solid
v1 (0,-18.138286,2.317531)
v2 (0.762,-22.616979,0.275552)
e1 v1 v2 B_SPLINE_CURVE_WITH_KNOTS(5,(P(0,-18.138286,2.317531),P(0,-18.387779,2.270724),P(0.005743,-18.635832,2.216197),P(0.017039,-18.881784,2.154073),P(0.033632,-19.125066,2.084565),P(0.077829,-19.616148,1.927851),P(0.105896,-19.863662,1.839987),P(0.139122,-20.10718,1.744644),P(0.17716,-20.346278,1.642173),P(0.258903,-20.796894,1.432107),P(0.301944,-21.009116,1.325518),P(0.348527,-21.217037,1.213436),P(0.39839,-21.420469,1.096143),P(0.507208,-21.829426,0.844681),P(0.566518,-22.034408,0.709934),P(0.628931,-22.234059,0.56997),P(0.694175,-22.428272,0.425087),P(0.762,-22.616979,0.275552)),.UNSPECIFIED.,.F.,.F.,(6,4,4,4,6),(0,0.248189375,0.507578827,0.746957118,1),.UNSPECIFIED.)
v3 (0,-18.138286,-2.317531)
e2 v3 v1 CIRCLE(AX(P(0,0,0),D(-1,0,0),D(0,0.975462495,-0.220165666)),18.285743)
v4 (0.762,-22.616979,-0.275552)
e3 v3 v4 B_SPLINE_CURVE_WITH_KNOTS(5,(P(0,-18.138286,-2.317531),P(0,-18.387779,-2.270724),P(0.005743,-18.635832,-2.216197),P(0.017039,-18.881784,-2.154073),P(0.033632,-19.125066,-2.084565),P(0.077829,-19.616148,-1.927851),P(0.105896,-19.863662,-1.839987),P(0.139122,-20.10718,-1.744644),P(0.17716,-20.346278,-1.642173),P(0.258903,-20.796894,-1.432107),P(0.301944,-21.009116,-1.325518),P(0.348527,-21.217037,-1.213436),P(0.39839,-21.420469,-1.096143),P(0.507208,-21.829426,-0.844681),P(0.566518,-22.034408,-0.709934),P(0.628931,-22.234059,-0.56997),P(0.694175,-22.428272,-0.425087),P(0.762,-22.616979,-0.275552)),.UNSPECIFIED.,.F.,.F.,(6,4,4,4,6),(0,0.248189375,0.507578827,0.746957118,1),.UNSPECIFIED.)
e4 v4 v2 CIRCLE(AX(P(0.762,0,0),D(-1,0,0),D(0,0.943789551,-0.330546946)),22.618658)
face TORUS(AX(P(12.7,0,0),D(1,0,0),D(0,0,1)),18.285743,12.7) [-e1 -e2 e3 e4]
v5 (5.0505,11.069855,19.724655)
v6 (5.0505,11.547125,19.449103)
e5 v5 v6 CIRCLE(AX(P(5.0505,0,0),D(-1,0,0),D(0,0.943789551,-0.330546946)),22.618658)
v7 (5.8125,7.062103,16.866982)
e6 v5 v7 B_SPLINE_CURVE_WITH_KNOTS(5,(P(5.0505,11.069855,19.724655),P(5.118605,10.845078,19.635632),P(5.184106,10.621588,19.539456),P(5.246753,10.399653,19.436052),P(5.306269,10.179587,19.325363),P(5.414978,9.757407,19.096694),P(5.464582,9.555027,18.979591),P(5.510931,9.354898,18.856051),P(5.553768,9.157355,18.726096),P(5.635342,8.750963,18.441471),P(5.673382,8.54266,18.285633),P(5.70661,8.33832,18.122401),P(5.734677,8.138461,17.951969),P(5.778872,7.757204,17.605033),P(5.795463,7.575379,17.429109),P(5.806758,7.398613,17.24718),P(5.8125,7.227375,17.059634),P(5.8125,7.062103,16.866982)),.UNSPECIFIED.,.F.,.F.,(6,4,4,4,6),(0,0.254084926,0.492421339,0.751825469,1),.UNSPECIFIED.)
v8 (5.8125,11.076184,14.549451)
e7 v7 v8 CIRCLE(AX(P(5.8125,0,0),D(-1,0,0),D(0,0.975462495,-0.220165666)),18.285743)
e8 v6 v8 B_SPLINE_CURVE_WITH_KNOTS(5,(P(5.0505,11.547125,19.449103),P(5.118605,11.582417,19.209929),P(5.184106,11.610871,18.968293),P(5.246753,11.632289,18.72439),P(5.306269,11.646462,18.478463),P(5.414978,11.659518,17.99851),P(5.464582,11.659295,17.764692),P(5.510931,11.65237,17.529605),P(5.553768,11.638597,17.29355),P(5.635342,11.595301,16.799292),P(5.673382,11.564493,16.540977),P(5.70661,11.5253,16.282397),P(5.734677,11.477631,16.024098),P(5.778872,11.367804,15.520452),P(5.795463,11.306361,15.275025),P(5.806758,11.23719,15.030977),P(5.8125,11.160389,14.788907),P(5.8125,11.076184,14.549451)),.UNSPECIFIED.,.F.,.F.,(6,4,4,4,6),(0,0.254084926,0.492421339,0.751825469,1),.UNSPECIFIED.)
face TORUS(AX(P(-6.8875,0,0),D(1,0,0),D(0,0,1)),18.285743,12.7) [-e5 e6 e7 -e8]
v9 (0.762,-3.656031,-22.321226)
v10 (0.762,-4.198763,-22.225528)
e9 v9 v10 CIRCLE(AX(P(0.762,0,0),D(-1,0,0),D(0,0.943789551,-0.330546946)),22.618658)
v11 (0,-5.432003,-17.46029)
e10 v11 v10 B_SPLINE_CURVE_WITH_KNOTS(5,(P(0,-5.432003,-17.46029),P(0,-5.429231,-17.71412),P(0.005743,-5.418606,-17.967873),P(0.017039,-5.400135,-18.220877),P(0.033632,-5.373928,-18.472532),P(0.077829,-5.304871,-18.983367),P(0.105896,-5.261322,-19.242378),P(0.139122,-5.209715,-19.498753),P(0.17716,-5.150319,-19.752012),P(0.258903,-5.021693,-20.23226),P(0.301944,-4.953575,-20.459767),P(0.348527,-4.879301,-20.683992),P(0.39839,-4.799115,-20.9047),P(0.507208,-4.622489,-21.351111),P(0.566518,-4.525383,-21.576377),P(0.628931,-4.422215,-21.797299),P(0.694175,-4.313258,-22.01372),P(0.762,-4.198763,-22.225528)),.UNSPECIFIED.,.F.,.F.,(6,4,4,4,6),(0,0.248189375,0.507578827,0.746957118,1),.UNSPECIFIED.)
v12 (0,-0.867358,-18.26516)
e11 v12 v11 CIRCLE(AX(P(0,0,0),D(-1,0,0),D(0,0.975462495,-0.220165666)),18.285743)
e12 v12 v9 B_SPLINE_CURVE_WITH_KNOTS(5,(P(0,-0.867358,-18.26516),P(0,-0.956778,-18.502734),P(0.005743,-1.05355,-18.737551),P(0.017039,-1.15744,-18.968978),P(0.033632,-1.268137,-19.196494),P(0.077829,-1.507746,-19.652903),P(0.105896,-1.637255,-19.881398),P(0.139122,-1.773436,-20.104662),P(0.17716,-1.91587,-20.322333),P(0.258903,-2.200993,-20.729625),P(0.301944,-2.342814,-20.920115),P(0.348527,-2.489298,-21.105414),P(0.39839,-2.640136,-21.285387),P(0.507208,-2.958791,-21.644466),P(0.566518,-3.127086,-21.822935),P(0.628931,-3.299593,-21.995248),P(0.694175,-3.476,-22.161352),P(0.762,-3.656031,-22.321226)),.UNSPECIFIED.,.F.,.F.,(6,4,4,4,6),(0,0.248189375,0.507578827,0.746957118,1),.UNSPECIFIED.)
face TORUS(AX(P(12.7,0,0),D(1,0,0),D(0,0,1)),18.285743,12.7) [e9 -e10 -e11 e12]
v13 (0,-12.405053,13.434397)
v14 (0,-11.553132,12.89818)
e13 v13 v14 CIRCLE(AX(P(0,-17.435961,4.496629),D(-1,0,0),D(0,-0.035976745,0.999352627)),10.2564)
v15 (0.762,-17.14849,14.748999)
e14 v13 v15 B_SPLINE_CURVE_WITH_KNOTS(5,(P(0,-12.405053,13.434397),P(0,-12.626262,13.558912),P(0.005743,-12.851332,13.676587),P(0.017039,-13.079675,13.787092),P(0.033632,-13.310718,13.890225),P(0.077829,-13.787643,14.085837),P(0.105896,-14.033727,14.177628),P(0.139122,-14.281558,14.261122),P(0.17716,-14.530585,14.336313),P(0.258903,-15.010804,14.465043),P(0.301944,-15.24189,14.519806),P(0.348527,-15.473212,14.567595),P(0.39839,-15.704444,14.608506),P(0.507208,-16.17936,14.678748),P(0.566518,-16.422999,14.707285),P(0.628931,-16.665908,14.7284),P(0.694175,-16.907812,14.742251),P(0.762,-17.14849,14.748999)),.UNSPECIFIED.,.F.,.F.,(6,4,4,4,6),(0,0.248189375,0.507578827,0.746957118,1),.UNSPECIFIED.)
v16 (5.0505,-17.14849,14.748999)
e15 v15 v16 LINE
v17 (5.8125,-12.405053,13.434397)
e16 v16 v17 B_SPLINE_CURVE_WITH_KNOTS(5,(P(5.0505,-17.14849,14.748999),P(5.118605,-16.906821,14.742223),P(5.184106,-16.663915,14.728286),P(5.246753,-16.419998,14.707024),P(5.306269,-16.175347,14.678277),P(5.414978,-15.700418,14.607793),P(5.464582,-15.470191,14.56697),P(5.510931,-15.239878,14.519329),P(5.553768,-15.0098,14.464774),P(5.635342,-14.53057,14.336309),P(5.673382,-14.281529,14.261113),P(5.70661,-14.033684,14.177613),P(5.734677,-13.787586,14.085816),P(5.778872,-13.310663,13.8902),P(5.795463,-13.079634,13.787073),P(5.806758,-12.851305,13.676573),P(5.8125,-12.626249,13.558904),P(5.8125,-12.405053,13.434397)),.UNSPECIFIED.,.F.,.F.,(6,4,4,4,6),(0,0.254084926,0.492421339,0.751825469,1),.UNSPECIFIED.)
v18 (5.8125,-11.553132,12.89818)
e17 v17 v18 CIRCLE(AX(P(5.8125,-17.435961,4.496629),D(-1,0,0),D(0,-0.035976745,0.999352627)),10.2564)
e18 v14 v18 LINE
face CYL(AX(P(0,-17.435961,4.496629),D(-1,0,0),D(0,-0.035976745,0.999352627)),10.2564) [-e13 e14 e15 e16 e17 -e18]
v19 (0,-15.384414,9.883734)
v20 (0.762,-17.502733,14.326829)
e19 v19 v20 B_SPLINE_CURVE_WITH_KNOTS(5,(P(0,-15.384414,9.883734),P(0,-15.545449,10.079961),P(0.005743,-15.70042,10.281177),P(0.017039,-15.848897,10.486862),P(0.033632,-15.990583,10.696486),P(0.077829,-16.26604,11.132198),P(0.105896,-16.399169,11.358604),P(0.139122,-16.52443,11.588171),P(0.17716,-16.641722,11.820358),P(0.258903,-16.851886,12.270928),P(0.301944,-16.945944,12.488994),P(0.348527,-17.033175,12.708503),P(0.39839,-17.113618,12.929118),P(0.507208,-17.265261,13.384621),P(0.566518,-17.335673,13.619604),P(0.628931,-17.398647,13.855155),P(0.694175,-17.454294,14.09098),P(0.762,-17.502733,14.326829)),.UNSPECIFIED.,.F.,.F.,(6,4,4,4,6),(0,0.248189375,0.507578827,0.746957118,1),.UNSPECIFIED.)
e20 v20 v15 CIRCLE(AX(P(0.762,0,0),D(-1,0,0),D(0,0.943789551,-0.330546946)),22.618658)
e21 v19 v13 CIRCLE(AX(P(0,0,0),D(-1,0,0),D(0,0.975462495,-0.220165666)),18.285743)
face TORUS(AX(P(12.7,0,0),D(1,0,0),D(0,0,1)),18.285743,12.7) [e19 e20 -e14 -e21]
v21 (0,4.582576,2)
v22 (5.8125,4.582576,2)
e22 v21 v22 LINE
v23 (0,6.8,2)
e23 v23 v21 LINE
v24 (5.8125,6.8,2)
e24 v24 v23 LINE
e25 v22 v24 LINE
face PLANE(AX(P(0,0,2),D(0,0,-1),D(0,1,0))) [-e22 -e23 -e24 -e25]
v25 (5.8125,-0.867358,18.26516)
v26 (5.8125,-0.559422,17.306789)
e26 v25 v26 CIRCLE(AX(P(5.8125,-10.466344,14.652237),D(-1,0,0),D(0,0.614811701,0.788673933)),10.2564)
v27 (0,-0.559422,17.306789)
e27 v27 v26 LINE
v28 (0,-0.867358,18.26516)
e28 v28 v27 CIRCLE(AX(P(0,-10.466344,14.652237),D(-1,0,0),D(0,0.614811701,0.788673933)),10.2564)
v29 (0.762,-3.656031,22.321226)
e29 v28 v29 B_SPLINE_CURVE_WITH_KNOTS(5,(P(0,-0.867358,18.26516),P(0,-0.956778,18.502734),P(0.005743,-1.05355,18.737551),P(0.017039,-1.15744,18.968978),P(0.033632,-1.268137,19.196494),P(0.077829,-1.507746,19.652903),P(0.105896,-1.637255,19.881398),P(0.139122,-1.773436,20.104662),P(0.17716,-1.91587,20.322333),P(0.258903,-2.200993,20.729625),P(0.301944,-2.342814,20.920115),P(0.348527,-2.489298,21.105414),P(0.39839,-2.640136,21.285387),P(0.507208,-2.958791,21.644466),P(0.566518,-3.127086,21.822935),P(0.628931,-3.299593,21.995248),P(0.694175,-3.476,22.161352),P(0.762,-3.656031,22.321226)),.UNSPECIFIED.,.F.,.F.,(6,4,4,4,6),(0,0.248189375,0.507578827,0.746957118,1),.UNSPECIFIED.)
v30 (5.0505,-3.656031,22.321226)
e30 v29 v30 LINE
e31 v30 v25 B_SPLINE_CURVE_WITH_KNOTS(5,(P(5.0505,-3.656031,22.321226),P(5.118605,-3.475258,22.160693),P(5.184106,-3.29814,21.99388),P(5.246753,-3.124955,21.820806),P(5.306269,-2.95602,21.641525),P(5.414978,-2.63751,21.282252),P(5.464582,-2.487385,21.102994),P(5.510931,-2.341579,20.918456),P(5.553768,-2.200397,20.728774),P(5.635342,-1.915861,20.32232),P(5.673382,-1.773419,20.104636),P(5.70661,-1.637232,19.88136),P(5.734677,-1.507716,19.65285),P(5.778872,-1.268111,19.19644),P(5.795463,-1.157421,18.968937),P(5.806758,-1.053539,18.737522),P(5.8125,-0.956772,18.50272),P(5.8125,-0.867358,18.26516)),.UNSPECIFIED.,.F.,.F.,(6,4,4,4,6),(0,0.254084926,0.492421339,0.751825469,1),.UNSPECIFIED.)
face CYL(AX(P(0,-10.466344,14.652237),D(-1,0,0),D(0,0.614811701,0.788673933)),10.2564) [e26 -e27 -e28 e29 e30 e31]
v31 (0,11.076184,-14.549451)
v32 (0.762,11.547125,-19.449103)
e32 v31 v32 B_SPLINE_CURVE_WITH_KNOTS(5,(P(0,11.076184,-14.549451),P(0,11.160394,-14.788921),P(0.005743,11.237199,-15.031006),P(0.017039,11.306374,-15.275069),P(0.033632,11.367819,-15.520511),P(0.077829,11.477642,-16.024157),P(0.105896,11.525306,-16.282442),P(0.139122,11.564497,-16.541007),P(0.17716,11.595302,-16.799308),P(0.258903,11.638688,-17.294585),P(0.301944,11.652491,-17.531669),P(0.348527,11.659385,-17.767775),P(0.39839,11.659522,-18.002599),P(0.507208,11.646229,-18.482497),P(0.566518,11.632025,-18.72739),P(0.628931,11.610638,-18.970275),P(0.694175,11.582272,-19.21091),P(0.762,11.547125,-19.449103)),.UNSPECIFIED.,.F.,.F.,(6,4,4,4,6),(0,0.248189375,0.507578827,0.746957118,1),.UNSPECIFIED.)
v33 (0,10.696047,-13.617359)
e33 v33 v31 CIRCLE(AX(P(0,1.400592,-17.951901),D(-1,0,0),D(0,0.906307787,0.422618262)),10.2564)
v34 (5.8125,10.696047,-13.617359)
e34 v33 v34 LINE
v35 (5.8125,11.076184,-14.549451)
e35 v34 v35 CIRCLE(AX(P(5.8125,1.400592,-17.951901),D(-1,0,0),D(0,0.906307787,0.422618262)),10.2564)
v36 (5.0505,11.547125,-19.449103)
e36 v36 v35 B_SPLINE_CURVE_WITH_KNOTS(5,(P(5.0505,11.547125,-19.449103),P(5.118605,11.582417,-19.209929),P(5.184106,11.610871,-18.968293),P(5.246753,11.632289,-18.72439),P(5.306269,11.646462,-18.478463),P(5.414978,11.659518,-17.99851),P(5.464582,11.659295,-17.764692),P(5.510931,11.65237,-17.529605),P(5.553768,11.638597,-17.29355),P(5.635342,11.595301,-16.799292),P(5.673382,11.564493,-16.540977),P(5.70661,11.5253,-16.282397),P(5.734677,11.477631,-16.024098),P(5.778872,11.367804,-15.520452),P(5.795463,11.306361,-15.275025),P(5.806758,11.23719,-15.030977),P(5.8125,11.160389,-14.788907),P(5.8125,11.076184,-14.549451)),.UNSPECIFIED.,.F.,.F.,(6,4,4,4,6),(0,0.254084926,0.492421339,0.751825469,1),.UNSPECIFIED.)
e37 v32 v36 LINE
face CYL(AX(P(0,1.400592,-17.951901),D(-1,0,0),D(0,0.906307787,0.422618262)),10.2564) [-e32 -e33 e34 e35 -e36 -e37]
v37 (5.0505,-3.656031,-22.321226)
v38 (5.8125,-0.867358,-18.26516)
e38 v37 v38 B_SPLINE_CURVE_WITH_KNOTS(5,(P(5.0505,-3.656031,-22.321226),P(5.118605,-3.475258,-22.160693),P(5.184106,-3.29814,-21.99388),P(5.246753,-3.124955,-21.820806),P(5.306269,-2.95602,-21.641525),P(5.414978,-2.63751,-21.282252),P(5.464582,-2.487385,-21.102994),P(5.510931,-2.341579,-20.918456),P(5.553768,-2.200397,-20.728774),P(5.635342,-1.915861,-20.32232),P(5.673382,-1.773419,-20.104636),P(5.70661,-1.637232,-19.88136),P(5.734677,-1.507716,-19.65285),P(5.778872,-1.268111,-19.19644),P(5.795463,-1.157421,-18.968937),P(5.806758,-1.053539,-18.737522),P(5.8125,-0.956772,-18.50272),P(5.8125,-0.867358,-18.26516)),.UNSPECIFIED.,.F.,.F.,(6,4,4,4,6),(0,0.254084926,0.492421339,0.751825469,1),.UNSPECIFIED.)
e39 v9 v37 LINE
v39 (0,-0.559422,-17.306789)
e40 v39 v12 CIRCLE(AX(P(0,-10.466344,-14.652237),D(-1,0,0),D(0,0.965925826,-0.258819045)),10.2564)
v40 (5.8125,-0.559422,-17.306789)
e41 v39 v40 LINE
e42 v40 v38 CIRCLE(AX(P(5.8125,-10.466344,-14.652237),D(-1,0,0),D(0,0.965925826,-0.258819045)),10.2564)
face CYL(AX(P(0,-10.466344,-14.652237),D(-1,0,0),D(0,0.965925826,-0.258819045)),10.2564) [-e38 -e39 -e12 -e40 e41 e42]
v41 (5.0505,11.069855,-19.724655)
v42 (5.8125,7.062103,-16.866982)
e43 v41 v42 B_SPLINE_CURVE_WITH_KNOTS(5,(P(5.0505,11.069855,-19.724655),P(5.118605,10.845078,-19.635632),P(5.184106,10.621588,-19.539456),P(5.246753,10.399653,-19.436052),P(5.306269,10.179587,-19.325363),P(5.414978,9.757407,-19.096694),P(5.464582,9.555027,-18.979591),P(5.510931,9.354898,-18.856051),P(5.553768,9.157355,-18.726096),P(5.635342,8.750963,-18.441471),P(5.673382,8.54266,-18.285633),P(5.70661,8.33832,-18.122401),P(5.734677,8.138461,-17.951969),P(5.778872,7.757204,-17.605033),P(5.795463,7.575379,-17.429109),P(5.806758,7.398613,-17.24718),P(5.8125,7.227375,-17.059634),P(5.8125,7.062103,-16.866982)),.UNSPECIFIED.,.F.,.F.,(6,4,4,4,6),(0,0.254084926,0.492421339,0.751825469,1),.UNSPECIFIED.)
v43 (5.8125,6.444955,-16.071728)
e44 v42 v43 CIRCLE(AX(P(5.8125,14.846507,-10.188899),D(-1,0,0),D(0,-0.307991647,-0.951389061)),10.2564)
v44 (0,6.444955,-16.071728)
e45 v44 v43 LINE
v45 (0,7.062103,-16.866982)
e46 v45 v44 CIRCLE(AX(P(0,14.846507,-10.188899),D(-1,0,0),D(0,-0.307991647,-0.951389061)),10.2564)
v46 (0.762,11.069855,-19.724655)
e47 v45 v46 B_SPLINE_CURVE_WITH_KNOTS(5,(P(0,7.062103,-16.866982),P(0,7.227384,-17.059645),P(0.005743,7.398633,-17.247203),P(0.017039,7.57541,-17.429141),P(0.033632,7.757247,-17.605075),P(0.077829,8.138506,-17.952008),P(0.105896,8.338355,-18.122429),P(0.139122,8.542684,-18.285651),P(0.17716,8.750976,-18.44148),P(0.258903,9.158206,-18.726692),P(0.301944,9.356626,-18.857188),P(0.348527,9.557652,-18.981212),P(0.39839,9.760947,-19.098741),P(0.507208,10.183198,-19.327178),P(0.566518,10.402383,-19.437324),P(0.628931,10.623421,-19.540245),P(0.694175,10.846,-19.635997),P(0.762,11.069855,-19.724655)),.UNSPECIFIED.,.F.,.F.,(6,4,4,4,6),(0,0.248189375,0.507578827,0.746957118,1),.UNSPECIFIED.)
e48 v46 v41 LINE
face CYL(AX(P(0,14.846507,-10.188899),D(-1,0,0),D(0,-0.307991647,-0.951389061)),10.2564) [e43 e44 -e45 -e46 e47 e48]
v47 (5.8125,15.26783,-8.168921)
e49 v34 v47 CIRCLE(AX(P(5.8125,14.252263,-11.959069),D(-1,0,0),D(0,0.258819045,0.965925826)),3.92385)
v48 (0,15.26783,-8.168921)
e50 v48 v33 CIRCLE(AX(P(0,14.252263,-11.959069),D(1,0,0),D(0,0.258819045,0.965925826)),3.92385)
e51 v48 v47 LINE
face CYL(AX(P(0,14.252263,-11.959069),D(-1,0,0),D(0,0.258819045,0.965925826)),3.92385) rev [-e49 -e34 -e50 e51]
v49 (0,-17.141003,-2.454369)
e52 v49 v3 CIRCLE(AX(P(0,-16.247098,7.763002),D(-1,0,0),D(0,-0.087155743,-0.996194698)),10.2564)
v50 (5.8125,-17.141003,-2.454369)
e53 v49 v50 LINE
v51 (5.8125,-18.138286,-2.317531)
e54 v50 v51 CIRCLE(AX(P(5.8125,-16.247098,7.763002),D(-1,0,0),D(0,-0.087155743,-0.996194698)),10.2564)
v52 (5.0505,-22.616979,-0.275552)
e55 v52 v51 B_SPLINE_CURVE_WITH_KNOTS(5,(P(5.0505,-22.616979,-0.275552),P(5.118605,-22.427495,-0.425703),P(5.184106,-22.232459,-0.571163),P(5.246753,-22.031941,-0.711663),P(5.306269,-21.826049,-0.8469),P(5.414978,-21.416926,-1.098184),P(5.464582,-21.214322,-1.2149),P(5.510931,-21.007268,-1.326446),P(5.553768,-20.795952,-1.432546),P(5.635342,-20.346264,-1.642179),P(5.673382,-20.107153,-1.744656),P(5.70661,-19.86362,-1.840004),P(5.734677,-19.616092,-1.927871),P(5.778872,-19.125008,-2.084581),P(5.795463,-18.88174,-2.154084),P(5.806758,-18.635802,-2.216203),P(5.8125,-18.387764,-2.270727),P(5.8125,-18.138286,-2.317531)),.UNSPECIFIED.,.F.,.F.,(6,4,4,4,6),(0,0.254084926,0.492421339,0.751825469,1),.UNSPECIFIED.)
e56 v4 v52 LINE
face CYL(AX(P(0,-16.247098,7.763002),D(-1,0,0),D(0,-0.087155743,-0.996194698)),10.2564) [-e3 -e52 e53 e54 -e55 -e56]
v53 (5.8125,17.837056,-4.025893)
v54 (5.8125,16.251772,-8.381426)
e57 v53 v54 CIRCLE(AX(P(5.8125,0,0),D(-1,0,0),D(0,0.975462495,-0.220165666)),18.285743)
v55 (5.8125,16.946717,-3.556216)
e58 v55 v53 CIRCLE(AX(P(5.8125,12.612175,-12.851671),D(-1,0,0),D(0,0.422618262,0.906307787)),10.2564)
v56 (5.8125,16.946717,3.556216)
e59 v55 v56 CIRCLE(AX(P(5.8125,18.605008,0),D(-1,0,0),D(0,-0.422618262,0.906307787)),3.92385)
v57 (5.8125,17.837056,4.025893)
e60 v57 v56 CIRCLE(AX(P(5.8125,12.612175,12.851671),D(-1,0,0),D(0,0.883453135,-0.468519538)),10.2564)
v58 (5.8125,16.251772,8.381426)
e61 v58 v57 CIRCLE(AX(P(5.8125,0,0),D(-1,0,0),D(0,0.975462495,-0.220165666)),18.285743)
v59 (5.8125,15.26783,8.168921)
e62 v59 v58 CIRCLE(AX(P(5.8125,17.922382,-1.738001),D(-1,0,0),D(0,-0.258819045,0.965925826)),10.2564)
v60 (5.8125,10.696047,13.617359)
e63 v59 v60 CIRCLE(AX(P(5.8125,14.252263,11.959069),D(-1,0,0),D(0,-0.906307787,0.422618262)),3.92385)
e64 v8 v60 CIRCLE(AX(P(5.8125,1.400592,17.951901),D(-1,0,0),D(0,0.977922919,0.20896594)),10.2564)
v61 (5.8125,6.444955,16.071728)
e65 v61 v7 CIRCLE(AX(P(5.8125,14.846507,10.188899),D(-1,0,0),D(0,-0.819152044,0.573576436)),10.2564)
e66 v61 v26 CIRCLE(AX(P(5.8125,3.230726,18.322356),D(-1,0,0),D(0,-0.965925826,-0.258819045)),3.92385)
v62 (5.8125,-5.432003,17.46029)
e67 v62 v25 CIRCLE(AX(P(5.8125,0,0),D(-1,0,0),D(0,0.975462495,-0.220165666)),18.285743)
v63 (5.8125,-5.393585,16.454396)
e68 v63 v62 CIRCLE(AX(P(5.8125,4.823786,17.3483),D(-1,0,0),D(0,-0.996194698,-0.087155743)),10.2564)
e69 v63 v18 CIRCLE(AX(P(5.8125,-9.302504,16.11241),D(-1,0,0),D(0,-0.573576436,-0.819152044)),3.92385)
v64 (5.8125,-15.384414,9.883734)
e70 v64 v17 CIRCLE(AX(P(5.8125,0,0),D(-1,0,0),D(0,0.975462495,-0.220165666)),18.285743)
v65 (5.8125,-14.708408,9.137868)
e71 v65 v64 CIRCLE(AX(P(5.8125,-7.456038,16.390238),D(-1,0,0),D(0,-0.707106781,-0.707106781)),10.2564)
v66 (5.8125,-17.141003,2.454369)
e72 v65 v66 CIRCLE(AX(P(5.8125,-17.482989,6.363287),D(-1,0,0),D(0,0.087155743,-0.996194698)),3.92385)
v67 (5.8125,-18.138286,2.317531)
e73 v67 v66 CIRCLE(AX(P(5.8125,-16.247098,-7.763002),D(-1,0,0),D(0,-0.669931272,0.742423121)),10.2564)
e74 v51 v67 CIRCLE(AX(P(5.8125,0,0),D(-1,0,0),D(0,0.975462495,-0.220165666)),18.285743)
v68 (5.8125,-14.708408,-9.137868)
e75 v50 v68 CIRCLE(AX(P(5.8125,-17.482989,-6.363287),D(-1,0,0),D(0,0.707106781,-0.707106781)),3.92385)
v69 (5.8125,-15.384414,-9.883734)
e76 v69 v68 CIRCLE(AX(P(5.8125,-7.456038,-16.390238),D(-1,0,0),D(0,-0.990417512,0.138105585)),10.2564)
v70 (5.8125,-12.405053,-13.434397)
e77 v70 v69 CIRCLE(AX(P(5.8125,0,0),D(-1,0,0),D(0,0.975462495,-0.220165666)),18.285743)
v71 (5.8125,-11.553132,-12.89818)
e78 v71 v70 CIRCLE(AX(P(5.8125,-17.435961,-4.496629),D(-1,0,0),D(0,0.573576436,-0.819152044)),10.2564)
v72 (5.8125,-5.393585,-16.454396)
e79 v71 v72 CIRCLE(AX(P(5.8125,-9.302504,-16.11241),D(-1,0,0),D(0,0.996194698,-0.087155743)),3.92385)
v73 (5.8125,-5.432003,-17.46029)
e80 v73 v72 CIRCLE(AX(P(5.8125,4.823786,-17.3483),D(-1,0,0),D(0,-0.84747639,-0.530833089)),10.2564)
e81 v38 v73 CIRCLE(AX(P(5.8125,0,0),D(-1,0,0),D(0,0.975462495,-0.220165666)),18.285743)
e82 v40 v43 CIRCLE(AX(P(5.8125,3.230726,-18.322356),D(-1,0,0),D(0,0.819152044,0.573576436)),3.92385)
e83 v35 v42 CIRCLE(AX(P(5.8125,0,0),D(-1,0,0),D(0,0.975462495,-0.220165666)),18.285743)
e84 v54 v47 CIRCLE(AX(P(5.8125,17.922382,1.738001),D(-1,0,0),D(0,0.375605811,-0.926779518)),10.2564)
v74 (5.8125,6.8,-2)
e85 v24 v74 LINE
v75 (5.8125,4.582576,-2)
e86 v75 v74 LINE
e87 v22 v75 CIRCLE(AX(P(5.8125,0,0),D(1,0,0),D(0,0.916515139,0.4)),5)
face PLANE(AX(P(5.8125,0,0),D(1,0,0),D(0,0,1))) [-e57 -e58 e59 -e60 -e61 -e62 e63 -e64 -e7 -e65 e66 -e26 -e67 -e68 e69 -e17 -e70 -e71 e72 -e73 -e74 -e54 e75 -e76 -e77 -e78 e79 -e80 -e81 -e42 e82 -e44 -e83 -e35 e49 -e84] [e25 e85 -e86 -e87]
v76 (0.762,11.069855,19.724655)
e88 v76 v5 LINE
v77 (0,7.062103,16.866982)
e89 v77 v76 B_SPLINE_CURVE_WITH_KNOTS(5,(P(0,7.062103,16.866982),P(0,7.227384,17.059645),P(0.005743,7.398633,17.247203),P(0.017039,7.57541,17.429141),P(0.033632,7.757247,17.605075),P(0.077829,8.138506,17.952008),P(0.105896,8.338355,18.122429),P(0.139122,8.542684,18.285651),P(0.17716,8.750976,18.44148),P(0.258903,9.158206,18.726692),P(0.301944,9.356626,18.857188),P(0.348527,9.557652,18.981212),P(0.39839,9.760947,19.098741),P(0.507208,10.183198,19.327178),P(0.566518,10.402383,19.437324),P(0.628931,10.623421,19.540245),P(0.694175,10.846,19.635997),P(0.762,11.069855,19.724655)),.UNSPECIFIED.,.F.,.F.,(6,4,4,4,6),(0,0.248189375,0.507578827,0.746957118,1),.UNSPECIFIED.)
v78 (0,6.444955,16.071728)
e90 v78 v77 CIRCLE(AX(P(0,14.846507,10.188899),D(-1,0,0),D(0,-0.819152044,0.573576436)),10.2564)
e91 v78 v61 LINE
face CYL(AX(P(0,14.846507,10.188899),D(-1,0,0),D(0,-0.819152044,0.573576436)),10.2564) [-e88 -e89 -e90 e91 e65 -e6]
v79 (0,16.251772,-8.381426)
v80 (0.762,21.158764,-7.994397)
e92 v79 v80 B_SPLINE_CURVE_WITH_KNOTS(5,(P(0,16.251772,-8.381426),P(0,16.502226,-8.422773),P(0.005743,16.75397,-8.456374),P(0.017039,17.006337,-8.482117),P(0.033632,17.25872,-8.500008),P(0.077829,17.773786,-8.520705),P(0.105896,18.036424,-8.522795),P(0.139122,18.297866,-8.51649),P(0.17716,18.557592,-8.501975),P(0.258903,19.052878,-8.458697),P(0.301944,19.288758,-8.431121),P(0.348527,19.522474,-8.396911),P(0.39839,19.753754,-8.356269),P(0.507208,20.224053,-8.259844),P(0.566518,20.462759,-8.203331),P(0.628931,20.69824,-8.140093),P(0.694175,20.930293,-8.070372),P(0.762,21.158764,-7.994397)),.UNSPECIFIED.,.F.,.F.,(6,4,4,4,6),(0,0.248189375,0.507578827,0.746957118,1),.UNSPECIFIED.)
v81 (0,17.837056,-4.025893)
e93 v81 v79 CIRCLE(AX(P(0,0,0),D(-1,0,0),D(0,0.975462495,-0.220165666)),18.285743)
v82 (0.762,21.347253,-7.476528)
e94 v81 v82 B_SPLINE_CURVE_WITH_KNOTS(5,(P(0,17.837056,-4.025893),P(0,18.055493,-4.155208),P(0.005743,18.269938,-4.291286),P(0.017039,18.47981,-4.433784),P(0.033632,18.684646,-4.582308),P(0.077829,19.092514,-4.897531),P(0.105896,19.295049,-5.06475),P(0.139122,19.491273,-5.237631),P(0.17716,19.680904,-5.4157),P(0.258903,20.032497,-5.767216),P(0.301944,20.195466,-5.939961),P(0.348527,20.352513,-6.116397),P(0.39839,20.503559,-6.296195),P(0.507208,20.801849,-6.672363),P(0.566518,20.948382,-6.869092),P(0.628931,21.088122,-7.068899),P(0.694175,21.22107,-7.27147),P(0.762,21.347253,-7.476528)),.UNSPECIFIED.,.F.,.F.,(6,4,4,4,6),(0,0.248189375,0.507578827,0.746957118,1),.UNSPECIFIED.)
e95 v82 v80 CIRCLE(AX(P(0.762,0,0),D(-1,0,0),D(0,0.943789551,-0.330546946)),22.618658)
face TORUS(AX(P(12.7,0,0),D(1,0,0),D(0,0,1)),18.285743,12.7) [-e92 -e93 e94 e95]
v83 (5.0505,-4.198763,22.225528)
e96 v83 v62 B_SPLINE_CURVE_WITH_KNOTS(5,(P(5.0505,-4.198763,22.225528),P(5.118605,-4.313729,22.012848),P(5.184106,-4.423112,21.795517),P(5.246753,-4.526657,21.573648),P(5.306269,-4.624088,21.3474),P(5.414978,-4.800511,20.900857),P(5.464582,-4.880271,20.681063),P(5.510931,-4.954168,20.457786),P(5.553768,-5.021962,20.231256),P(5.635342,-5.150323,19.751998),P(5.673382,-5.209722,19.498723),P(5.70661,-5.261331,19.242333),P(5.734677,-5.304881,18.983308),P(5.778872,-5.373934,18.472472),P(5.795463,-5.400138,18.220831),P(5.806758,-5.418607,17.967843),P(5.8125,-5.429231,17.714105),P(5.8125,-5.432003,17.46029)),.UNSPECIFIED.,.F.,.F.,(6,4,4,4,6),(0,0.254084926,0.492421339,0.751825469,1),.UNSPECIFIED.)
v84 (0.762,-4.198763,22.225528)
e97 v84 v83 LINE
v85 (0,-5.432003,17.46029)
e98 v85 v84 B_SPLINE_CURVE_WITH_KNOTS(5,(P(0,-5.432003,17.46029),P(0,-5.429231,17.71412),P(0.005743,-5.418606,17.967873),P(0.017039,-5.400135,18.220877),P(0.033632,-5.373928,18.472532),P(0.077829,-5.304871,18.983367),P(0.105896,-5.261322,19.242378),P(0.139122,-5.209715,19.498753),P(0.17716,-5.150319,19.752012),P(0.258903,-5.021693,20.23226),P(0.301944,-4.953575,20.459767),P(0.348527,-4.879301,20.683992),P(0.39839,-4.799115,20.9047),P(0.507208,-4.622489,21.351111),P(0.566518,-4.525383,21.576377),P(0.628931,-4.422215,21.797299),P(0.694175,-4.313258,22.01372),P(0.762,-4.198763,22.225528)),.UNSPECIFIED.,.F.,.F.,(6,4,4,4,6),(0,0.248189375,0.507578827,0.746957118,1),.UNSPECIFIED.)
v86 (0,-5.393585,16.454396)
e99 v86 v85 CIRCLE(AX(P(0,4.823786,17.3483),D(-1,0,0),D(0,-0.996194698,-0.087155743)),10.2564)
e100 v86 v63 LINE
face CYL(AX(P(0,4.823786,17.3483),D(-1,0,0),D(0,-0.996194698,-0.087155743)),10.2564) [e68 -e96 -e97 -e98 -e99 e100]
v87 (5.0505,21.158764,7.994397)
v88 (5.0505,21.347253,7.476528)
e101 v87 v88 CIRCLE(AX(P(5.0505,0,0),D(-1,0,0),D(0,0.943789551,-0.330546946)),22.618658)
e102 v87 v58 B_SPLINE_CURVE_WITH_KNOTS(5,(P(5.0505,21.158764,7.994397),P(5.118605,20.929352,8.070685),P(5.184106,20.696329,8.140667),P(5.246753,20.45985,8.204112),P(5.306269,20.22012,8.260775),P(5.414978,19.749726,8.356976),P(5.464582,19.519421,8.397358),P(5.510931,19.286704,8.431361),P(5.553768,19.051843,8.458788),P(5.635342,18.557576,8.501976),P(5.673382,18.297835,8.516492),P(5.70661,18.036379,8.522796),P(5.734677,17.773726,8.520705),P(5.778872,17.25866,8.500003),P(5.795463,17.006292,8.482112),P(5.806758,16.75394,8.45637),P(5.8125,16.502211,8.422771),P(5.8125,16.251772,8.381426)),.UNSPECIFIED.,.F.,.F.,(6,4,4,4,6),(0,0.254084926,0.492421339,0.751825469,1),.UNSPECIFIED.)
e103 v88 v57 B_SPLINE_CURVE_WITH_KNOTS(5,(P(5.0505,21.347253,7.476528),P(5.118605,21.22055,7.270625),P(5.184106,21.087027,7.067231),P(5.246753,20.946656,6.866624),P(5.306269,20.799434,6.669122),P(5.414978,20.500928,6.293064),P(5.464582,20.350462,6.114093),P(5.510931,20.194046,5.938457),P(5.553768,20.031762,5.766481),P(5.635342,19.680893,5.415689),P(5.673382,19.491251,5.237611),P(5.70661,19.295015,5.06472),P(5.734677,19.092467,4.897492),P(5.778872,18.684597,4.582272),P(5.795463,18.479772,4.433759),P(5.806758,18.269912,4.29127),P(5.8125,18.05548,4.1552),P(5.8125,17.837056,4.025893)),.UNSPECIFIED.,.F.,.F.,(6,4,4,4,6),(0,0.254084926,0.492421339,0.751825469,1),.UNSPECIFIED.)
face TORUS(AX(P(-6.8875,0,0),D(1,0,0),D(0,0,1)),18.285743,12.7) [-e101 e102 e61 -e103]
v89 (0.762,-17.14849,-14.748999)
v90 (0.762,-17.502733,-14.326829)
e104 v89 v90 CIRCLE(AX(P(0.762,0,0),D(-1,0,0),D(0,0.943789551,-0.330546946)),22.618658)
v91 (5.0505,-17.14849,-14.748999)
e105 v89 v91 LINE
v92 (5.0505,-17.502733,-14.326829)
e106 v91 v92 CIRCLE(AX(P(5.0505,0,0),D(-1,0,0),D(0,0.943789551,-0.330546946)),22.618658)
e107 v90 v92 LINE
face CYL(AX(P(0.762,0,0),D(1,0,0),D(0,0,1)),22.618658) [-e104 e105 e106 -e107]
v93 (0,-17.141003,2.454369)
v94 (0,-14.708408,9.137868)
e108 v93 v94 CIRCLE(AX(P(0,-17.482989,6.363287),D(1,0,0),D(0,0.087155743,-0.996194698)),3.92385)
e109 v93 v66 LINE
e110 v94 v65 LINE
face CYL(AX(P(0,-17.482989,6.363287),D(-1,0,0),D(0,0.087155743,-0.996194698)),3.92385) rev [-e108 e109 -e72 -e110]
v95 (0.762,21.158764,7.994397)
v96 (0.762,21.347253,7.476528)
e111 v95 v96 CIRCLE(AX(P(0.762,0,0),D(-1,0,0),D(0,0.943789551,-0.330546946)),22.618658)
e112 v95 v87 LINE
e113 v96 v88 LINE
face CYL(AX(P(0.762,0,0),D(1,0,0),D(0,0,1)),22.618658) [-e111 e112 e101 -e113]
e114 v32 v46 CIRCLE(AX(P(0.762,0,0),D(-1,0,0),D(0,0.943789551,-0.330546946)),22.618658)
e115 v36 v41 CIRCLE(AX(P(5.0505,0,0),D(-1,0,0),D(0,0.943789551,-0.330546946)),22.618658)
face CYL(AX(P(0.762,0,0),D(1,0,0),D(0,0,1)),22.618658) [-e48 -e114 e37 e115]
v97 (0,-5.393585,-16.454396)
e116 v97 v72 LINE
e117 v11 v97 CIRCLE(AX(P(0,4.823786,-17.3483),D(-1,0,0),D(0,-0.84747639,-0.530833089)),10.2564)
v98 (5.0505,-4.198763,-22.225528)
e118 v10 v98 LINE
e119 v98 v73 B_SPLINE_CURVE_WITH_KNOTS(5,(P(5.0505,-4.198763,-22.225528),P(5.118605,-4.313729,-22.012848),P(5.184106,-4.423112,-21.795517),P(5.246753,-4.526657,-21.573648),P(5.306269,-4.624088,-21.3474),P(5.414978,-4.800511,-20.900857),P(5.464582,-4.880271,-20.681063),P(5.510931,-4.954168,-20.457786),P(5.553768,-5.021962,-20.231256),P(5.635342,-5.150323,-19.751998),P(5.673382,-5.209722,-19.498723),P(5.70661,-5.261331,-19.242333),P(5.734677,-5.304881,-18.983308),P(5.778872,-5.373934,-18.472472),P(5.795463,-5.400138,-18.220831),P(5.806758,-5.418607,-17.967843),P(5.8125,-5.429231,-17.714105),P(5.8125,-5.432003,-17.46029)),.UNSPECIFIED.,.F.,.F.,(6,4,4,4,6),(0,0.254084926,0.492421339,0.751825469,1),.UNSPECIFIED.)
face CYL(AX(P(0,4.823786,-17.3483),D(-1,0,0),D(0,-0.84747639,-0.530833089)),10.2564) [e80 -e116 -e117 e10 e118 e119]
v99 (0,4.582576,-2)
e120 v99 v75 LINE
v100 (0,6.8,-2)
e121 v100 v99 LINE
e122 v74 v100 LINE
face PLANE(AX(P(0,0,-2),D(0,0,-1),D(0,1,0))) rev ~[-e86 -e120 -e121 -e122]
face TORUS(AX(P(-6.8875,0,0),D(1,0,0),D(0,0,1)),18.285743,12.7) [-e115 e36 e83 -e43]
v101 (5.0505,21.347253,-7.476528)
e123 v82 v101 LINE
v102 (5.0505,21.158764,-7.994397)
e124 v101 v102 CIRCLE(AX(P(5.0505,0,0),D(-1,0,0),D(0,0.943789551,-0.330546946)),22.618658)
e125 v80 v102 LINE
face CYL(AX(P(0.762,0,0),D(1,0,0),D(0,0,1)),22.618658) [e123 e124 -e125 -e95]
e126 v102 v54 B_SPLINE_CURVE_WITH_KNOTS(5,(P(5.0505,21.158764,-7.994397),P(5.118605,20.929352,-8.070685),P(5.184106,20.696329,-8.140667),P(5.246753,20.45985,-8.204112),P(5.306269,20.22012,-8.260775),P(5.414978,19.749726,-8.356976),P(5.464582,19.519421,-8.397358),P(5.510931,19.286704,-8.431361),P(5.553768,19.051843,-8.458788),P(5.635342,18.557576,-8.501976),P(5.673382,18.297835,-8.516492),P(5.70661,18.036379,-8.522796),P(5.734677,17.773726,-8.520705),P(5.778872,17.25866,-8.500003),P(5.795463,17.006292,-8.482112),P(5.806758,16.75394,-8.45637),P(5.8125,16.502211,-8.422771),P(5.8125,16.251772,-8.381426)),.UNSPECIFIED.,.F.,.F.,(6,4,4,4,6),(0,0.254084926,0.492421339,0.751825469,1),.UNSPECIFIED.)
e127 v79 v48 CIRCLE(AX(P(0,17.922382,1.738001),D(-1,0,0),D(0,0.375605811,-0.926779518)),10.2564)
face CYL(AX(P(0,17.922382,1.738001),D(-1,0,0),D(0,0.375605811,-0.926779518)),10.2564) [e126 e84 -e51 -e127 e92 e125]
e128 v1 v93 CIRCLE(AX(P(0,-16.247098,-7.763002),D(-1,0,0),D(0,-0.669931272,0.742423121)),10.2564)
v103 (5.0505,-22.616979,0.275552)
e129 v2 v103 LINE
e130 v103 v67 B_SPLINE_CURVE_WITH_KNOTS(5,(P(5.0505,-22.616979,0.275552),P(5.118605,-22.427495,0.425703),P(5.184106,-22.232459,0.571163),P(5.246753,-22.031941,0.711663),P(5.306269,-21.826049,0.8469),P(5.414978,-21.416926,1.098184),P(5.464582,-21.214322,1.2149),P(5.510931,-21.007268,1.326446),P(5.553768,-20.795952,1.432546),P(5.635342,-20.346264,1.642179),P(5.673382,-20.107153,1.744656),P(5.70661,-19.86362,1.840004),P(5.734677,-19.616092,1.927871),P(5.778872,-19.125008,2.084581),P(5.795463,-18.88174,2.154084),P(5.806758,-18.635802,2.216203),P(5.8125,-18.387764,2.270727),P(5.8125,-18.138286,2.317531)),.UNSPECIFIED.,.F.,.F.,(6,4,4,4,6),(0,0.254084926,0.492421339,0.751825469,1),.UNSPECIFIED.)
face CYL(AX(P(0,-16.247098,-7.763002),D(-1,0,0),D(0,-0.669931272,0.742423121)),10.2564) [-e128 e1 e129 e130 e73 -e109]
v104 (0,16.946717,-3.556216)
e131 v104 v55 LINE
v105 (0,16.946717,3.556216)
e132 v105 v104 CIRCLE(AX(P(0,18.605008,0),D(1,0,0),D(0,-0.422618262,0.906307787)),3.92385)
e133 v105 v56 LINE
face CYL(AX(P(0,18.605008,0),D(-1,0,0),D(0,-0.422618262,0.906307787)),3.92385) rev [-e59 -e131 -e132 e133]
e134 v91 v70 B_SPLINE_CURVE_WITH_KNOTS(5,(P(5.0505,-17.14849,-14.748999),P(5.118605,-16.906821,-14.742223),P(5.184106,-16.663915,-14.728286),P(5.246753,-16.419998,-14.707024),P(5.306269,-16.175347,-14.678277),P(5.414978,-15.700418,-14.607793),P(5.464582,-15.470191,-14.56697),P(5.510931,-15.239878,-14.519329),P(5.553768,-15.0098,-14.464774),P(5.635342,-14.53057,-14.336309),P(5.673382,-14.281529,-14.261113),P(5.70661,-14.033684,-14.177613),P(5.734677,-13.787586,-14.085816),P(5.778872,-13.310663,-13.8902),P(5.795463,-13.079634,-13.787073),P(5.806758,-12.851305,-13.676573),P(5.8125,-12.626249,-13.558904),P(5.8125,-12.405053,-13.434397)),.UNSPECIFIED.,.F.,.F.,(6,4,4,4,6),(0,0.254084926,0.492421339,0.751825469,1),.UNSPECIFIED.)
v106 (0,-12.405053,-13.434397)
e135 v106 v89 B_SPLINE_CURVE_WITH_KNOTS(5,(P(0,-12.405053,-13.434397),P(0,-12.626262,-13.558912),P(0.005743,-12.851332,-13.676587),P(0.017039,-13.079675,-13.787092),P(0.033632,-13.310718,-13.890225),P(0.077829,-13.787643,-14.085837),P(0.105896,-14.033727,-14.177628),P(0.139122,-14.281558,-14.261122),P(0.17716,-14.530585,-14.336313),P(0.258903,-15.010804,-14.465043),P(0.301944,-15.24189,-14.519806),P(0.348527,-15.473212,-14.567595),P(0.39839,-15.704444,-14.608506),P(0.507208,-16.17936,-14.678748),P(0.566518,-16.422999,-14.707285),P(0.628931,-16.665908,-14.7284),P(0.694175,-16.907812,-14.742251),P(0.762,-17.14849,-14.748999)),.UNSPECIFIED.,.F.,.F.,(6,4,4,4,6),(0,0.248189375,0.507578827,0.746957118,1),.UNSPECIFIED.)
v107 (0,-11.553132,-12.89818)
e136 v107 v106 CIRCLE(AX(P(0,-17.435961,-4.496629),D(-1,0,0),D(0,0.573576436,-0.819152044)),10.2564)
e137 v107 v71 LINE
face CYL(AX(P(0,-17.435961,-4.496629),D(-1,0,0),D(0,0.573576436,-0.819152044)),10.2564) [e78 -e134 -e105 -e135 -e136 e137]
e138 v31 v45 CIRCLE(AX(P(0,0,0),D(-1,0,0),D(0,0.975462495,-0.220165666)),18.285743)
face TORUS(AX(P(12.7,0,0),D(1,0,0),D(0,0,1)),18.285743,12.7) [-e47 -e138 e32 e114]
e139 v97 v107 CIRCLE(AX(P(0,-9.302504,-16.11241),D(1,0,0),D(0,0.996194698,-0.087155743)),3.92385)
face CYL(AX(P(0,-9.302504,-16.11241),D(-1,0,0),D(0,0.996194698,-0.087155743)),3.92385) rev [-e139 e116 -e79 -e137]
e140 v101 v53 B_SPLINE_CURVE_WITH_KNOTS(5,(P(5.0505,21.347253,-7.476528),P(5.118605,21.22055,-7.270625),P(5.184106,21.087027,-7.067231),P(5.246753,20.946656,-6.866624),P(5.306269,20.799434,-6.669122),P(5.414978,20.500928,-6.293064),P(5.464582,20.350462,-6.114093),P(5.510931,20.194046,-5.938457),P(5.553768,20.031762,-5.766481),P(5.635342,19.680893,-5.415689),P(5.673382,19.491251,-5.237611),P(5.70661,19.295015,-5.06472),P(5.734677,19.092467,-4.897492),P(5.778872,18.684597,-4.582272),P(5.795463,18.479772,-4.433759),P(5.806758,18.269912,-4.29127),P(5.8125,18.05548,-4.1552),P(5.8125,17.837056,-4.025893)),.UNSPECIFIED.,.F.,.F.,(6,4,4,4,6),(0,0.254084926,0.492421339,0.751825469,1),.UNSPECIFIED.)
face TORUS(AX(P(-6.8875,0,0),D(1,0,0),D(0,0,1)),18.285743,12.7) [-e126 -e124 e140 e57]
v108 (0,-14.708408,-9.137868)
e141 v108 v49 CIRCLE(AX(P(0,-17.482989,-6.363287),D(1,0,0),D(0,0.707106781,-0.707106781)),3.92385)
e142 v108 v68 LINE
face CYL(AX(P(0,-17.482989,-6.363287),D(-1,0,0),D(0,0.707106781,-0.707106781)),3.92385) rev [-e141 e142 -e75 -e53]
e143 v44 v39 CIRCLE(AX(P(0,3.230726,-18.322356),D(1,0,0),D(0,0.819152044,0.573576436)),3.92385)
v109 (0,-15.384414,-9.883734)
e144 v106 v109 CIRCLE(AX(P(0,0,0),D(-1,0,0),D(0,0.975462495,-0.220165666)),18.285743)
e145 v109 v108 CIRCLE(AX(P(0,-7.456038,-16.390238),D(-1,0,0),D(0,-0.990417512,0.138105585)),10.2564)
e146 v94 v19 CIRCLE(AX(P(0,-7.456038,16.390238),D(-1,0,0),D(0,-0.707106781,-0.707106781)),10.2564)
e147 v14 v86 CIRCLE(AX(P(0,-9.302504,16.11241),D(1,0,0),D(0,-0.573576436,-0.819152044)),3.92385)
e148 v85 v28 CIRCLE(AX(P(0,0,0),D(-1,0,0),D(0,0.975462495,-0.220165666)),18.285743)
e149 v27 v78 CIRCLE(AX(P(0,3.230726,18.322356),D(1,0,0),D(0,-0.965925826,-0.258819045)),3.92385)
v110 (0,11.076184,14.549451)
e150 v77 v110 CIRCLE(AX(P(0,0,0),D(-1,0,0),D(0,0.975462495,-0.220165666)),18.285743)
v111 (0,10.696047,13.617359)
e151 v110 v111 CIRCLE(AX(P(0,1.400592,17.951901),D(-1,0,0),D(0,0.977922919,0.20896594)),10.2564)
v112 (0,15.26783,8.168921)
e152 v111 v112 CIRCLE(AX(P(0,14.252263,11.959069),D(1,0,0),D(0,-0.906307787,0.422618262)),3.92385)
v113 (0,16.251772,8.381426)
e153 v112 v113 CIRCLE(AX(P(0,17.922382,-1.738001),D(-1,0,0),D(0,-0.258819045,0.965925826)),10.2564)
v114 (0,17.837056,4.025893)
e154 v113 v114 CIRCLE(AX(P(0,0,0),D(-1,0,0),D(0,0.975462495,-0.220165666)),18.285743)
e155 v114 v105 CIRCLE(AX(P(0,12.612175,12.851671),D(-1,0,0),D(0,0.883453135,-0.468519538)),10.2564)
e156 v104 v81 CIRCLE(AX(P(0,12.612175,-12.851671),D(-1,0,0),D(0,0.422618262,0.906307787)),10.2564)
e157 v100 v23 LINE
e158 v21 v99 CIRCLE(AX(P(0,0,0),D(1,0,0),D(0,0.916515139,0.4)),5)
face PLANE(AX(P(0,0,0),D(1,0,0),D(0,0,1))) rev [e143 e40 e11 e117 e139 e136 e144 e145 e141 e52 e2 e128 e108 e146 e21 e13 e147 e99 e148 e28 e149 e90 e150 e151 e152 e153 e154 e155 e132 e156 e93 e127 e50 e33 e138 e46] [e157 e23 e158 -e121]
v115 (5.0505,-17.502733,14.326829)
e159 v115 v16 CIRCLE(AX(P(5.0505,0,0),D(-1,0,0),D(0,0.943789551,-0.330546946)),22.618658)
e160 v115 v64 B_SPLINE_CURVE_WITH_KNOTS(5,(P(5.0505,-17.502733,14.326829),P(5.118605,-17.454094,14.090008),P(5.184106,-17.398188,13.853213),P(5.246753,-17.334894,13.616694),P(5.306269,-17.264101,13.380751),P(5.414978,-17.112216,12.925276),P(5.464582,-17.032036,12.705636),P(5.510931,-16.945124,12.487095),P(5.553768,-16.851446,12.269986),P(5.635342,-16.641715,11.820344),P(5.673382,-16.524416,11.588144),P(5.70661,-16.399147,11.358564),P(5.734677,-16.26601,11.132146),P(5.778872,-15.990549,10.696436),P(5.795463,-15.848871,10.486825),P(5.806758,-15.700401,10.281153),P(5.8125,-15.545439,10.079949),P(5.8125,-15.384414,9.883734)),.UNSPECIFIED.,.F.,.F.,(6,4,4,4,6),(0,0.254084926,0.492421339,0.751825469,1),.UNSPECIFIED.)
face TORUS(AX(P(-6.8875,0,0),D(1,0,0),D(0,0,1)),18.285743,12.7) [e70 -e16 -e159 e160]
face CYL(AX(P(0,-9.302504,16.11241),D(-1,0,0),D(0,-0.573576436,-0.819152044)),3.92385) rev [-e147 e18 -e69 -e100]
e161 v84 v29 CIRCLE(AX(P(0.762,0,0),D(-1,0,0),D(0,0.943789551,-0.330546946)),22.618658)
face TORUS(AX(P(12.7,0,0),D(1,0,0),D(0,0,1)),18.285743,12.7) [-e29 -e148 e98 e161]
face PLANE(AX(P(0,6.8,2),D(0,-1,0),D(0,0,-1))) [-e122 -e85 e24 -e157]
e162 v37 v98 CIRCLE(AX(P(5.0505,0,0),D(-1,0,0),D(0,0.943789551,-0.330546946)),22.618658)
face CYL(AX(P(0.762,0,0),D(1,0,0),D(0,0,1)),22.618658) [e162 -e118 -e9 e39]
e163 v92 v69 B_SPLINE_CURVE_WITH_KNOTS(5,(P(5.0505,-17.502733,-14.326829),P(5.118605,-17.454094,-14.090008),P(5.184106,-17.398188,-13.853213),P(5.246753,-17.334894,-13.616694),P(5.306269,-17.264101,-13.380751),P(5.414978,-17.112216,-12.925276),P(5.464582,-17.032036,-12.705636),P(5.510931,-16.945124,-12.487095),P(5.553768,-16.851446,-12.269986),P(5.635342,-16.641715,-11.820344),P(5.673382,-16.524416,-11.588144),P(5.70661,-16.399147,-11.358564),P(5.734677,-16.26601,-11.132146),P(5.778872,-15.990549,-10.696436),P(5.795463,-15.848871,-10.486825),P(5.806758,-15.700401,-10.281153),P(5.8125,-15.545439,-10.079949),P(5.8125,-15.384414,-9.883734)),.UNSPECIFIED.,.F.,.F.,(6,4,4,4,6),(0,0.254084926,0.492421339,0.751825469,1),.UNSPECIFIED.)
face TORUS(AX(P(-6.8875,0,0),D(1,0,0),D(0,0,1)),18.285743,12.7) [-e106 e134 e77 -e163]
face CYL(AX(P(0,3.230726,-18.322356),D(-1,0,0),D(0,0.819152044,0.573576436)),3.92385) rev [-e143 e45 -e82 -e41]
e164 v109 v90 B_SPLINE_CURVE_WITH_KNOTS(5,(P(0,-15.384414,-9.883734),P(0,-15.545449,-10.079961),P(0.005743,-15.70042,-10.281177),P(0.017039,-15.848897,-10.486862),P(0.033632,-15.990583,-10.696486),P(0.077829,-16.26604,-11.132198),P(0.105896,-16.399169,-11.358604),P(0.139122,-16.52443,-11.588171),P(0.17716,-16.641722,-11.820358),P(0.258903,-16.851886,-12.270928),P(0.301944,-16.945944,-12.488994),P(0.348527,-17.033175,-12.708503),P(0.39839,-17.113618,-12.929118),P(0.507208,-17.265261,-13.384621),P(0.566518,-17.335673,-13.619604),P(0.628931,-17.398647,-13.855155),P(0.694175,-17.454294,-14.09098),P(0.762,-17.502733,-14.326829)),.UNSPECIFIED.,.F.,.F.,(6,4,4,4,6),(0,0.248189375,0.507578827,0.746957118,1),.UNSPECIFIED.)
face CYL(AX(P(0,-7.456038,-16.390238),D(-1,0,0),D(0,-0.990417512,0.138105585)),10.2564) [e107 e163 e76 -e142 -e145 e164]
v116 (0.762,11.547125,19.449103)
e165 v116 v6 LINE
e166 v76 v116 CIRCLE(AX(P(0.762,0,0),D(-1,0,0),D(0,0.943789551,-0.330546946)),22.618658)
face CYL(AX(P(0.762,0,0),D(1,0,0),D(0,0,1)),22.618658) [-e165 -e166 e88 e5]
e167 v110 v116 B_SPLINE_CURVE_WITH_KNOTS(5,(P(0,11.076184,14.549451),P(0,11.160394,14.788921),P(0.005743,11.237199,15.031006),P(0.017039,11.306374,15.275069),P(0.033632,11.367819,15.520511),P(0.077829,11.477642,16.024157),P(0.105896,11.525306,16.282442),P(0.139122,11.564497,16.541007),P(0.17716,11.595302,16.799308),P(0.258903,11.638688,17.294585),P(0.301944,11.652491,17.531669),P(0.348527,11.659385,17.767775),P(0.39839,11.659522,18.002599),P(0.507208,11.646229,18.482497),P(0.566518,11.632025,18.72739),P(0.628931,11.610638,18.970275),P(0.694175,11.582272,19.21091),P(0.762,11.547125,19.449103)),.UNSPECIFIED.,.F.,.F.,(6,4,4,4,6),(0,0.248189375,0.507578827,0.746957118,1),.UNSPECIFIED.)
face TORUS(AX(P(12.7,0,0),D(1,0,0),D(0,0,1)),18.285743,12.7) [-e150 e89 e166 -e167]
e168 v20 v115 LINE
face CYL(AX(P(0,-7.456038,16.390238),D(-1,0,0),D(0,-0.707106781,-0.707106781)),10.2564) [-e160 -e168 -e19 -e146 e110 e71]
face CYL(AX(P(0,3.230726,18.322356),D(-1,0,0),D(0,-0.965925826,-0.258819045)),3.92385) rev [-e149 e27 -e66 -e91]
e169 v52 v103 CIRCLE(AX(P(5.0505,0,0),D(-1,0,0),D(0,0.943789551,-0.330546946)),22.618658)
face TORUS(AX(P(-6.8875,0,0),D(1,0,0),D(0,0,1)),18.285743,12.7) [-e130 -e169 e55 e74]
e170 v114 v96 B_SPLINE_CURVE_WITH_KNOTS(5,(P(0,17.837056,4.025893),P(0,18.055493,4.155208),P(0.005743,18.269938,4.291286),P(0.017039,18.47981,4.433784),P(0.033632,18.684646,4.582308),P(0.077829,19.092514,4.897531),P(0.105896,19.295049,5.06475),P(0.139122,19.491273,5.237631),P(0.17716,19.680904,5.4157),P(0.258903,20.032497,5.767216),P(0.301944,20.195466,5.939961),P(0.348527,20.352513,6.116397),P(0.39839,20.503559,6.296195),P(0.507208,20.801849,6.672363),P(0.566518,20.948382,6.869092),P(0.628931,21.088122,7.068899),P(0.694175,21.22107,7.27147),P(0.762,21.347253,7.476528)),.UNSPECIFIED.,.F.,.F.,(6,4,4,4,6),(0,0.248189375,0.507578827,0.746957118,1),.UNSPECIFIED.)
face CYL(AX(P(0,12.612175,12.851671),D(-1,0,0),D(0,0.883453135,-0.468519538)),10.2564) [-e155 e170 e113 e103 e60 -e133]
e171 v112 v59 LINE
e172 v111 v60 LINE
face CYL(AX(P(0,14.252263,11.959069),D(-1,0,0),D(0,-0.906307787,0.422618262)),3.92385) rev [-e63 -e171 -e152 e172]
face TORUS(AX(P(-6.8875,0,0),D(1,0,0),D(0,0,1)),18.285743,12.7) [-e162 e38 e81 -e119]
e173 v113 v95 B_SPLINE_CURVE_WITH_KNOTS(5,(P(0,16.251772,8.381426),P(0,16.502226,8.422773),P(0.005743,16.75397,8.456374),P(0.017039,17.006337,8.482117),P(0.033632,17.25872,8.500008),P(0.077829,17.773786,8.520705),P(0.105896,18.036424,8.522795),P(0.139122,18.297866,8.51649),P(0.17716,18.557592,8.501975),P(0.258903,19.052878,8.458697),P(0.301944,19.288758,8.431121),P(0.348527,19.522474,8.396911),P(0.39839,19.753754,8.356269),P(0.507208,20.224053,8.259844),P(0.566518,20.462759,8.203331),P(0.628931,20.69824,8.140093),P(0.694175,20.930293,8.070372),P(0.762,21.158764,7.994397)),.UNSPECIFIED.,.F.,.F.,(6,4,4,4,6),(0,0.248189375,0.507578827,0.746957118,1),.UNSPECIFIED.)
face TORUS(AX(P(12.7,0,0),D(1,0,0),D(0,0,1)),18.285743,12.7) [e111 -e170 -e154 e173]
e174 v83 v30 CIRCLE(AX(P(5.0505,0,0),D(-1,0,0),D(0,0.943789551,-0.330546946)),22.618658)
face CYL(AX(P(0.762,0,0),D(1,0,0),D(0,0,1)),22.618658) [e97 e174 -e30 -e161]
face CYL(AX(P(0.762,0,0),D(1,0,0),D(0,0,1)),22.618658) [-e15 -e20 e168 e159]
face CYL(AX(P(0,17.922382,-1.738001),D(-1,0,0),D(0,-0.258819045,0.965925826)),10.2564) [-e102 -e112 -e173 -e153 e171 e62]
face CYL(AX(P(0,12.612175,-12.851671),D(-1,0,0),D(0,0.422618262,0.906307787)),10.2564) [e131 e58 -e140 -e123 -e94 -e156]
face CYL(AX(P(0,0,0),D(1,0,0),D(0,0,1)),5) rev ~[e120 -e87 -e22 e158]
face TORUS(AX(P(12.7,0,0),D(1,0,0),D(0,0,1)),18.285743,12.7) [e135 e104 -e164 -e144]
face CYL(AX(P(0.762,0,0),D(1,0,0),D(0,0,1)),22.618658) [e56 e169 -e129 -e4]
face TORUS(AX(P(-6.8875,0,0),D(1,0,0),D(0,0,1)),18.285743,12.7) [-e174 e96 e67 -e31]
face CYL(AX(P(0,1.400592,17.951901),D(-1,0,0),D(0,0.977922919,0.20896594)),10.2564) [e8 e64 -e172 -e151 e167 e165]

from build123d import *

# Parameters (mm, degrees)
TOOTHCUT_DEPTH  = 33.511421565
TEETHCUTS_COUNT = 9
TEETHCUTS_ANGLE = 320
BORSKE_R        = 5
BORE_DEPTH      = 50.0005
KEYSKE_W        = 4
KEYSKE_H        = 6.8
KEYWAY_DEPTH    = 50.0005


with BuildPart() as part:
    # BasProSke → Base-Revolve (revolve)
    with BuildSketch(Plane(origin=(0, 0, 0), x_dir=(1, 0, 0), z_dir=(0, 1, 0)), mode=Mode.PRIVATE) as base_revolve_sk:
        with BuildLine():
            Line((0, 0), (0, 18.285742546))
            ThreePointArc((0, 18.285742546), (0.191950592, 20.485447071), (0.762, 22.618657961))
            Line((0.762, 22.618657961), (5.0505, 22.618657961))
            ThreePointArc((5.0505, 22.618657961), (5.620549408, 20.485447071), (5.8125, 18.285742546))
            Line((5.8125, 18.285742546), (5.8125, 0))
            Line((5.8125, 0), (0, 0))
        make_face()
    revolve(base_revolve_sk.sketch.rotate(Axis((-10, 0, 0), (1, 0, 0)), 180), axis=Axis((-10, 0, 0), (1, 0, 0)))

    # TooCutSke → ToothCut (cut, through all)
    with BuildSketch(Plane(origin=(0, 0, 0), x_dir=(0, 0, -1), z_dir=(1, 0, 0))):
        with BuildLine():
            ThreePointArc((3.55621581, 16.946717295), (5.415747479, 19.676223939), (8.046347206, 21.673224093))
            ThreePointArc((8.046347206, 21.673224093), (0, 23.118657961), (-8.046347206, 21.673224093))
            ThreePointArc((-8.046347206, 21.673224093), (-5.415747479, 19.676223939), (-3.55621581, 16.946717295))
            ThreePointArc((-3.55621581, 16.946717295), (0, 14.681157961), (3.55621581, 16.946717295))
        make_face()
    toothcut = extrude(amount=TOOTHCUT_DEPTH, mode=Mode.SUBTRACT)

    # TeethCuts: ToothCut ×9 about axis
    teethcuts_axis = Axis((-10, 0, 0), (1, 0, 0))
    for i in range(1, TEETHCUTS_COUNT):
        add(toothcut.rotate(teethcuts_axis, i * TEETHCUTS_ANGLE / (TEETHCUTS_COUNT - 1)), mode=Mode.SUBTRACT)

    # BorSke → Bore (cut, symmetric)
    with BuildSketch(Plane(origin=(0, 0, 0), x_dir=(0, 0, -1), z_dir=(1, 0, 0))):
        with Locations(Location((0, 0, 0), (0, 0, 180))):
            Circle(BORSKE_R)
    extrude(amount=BORE_DEPTH, both=True, mode=Mode.SUBTRACT)

    # KeySke → Keyway (cut, symmetric)
    with BuildSketch(Plane(origin=(0, 0, 0), x_dir=(0, 0, -1), z_dir=(1, 0, 0))):
        with Locations((0, 3.4)):
            Rectangle(KEYSKE_W, KEYSKE_H)
    extrude(amount=KEYWAY_DEPTH, both=True, mode=Mode.SUBTRACT)


solid = part.part
